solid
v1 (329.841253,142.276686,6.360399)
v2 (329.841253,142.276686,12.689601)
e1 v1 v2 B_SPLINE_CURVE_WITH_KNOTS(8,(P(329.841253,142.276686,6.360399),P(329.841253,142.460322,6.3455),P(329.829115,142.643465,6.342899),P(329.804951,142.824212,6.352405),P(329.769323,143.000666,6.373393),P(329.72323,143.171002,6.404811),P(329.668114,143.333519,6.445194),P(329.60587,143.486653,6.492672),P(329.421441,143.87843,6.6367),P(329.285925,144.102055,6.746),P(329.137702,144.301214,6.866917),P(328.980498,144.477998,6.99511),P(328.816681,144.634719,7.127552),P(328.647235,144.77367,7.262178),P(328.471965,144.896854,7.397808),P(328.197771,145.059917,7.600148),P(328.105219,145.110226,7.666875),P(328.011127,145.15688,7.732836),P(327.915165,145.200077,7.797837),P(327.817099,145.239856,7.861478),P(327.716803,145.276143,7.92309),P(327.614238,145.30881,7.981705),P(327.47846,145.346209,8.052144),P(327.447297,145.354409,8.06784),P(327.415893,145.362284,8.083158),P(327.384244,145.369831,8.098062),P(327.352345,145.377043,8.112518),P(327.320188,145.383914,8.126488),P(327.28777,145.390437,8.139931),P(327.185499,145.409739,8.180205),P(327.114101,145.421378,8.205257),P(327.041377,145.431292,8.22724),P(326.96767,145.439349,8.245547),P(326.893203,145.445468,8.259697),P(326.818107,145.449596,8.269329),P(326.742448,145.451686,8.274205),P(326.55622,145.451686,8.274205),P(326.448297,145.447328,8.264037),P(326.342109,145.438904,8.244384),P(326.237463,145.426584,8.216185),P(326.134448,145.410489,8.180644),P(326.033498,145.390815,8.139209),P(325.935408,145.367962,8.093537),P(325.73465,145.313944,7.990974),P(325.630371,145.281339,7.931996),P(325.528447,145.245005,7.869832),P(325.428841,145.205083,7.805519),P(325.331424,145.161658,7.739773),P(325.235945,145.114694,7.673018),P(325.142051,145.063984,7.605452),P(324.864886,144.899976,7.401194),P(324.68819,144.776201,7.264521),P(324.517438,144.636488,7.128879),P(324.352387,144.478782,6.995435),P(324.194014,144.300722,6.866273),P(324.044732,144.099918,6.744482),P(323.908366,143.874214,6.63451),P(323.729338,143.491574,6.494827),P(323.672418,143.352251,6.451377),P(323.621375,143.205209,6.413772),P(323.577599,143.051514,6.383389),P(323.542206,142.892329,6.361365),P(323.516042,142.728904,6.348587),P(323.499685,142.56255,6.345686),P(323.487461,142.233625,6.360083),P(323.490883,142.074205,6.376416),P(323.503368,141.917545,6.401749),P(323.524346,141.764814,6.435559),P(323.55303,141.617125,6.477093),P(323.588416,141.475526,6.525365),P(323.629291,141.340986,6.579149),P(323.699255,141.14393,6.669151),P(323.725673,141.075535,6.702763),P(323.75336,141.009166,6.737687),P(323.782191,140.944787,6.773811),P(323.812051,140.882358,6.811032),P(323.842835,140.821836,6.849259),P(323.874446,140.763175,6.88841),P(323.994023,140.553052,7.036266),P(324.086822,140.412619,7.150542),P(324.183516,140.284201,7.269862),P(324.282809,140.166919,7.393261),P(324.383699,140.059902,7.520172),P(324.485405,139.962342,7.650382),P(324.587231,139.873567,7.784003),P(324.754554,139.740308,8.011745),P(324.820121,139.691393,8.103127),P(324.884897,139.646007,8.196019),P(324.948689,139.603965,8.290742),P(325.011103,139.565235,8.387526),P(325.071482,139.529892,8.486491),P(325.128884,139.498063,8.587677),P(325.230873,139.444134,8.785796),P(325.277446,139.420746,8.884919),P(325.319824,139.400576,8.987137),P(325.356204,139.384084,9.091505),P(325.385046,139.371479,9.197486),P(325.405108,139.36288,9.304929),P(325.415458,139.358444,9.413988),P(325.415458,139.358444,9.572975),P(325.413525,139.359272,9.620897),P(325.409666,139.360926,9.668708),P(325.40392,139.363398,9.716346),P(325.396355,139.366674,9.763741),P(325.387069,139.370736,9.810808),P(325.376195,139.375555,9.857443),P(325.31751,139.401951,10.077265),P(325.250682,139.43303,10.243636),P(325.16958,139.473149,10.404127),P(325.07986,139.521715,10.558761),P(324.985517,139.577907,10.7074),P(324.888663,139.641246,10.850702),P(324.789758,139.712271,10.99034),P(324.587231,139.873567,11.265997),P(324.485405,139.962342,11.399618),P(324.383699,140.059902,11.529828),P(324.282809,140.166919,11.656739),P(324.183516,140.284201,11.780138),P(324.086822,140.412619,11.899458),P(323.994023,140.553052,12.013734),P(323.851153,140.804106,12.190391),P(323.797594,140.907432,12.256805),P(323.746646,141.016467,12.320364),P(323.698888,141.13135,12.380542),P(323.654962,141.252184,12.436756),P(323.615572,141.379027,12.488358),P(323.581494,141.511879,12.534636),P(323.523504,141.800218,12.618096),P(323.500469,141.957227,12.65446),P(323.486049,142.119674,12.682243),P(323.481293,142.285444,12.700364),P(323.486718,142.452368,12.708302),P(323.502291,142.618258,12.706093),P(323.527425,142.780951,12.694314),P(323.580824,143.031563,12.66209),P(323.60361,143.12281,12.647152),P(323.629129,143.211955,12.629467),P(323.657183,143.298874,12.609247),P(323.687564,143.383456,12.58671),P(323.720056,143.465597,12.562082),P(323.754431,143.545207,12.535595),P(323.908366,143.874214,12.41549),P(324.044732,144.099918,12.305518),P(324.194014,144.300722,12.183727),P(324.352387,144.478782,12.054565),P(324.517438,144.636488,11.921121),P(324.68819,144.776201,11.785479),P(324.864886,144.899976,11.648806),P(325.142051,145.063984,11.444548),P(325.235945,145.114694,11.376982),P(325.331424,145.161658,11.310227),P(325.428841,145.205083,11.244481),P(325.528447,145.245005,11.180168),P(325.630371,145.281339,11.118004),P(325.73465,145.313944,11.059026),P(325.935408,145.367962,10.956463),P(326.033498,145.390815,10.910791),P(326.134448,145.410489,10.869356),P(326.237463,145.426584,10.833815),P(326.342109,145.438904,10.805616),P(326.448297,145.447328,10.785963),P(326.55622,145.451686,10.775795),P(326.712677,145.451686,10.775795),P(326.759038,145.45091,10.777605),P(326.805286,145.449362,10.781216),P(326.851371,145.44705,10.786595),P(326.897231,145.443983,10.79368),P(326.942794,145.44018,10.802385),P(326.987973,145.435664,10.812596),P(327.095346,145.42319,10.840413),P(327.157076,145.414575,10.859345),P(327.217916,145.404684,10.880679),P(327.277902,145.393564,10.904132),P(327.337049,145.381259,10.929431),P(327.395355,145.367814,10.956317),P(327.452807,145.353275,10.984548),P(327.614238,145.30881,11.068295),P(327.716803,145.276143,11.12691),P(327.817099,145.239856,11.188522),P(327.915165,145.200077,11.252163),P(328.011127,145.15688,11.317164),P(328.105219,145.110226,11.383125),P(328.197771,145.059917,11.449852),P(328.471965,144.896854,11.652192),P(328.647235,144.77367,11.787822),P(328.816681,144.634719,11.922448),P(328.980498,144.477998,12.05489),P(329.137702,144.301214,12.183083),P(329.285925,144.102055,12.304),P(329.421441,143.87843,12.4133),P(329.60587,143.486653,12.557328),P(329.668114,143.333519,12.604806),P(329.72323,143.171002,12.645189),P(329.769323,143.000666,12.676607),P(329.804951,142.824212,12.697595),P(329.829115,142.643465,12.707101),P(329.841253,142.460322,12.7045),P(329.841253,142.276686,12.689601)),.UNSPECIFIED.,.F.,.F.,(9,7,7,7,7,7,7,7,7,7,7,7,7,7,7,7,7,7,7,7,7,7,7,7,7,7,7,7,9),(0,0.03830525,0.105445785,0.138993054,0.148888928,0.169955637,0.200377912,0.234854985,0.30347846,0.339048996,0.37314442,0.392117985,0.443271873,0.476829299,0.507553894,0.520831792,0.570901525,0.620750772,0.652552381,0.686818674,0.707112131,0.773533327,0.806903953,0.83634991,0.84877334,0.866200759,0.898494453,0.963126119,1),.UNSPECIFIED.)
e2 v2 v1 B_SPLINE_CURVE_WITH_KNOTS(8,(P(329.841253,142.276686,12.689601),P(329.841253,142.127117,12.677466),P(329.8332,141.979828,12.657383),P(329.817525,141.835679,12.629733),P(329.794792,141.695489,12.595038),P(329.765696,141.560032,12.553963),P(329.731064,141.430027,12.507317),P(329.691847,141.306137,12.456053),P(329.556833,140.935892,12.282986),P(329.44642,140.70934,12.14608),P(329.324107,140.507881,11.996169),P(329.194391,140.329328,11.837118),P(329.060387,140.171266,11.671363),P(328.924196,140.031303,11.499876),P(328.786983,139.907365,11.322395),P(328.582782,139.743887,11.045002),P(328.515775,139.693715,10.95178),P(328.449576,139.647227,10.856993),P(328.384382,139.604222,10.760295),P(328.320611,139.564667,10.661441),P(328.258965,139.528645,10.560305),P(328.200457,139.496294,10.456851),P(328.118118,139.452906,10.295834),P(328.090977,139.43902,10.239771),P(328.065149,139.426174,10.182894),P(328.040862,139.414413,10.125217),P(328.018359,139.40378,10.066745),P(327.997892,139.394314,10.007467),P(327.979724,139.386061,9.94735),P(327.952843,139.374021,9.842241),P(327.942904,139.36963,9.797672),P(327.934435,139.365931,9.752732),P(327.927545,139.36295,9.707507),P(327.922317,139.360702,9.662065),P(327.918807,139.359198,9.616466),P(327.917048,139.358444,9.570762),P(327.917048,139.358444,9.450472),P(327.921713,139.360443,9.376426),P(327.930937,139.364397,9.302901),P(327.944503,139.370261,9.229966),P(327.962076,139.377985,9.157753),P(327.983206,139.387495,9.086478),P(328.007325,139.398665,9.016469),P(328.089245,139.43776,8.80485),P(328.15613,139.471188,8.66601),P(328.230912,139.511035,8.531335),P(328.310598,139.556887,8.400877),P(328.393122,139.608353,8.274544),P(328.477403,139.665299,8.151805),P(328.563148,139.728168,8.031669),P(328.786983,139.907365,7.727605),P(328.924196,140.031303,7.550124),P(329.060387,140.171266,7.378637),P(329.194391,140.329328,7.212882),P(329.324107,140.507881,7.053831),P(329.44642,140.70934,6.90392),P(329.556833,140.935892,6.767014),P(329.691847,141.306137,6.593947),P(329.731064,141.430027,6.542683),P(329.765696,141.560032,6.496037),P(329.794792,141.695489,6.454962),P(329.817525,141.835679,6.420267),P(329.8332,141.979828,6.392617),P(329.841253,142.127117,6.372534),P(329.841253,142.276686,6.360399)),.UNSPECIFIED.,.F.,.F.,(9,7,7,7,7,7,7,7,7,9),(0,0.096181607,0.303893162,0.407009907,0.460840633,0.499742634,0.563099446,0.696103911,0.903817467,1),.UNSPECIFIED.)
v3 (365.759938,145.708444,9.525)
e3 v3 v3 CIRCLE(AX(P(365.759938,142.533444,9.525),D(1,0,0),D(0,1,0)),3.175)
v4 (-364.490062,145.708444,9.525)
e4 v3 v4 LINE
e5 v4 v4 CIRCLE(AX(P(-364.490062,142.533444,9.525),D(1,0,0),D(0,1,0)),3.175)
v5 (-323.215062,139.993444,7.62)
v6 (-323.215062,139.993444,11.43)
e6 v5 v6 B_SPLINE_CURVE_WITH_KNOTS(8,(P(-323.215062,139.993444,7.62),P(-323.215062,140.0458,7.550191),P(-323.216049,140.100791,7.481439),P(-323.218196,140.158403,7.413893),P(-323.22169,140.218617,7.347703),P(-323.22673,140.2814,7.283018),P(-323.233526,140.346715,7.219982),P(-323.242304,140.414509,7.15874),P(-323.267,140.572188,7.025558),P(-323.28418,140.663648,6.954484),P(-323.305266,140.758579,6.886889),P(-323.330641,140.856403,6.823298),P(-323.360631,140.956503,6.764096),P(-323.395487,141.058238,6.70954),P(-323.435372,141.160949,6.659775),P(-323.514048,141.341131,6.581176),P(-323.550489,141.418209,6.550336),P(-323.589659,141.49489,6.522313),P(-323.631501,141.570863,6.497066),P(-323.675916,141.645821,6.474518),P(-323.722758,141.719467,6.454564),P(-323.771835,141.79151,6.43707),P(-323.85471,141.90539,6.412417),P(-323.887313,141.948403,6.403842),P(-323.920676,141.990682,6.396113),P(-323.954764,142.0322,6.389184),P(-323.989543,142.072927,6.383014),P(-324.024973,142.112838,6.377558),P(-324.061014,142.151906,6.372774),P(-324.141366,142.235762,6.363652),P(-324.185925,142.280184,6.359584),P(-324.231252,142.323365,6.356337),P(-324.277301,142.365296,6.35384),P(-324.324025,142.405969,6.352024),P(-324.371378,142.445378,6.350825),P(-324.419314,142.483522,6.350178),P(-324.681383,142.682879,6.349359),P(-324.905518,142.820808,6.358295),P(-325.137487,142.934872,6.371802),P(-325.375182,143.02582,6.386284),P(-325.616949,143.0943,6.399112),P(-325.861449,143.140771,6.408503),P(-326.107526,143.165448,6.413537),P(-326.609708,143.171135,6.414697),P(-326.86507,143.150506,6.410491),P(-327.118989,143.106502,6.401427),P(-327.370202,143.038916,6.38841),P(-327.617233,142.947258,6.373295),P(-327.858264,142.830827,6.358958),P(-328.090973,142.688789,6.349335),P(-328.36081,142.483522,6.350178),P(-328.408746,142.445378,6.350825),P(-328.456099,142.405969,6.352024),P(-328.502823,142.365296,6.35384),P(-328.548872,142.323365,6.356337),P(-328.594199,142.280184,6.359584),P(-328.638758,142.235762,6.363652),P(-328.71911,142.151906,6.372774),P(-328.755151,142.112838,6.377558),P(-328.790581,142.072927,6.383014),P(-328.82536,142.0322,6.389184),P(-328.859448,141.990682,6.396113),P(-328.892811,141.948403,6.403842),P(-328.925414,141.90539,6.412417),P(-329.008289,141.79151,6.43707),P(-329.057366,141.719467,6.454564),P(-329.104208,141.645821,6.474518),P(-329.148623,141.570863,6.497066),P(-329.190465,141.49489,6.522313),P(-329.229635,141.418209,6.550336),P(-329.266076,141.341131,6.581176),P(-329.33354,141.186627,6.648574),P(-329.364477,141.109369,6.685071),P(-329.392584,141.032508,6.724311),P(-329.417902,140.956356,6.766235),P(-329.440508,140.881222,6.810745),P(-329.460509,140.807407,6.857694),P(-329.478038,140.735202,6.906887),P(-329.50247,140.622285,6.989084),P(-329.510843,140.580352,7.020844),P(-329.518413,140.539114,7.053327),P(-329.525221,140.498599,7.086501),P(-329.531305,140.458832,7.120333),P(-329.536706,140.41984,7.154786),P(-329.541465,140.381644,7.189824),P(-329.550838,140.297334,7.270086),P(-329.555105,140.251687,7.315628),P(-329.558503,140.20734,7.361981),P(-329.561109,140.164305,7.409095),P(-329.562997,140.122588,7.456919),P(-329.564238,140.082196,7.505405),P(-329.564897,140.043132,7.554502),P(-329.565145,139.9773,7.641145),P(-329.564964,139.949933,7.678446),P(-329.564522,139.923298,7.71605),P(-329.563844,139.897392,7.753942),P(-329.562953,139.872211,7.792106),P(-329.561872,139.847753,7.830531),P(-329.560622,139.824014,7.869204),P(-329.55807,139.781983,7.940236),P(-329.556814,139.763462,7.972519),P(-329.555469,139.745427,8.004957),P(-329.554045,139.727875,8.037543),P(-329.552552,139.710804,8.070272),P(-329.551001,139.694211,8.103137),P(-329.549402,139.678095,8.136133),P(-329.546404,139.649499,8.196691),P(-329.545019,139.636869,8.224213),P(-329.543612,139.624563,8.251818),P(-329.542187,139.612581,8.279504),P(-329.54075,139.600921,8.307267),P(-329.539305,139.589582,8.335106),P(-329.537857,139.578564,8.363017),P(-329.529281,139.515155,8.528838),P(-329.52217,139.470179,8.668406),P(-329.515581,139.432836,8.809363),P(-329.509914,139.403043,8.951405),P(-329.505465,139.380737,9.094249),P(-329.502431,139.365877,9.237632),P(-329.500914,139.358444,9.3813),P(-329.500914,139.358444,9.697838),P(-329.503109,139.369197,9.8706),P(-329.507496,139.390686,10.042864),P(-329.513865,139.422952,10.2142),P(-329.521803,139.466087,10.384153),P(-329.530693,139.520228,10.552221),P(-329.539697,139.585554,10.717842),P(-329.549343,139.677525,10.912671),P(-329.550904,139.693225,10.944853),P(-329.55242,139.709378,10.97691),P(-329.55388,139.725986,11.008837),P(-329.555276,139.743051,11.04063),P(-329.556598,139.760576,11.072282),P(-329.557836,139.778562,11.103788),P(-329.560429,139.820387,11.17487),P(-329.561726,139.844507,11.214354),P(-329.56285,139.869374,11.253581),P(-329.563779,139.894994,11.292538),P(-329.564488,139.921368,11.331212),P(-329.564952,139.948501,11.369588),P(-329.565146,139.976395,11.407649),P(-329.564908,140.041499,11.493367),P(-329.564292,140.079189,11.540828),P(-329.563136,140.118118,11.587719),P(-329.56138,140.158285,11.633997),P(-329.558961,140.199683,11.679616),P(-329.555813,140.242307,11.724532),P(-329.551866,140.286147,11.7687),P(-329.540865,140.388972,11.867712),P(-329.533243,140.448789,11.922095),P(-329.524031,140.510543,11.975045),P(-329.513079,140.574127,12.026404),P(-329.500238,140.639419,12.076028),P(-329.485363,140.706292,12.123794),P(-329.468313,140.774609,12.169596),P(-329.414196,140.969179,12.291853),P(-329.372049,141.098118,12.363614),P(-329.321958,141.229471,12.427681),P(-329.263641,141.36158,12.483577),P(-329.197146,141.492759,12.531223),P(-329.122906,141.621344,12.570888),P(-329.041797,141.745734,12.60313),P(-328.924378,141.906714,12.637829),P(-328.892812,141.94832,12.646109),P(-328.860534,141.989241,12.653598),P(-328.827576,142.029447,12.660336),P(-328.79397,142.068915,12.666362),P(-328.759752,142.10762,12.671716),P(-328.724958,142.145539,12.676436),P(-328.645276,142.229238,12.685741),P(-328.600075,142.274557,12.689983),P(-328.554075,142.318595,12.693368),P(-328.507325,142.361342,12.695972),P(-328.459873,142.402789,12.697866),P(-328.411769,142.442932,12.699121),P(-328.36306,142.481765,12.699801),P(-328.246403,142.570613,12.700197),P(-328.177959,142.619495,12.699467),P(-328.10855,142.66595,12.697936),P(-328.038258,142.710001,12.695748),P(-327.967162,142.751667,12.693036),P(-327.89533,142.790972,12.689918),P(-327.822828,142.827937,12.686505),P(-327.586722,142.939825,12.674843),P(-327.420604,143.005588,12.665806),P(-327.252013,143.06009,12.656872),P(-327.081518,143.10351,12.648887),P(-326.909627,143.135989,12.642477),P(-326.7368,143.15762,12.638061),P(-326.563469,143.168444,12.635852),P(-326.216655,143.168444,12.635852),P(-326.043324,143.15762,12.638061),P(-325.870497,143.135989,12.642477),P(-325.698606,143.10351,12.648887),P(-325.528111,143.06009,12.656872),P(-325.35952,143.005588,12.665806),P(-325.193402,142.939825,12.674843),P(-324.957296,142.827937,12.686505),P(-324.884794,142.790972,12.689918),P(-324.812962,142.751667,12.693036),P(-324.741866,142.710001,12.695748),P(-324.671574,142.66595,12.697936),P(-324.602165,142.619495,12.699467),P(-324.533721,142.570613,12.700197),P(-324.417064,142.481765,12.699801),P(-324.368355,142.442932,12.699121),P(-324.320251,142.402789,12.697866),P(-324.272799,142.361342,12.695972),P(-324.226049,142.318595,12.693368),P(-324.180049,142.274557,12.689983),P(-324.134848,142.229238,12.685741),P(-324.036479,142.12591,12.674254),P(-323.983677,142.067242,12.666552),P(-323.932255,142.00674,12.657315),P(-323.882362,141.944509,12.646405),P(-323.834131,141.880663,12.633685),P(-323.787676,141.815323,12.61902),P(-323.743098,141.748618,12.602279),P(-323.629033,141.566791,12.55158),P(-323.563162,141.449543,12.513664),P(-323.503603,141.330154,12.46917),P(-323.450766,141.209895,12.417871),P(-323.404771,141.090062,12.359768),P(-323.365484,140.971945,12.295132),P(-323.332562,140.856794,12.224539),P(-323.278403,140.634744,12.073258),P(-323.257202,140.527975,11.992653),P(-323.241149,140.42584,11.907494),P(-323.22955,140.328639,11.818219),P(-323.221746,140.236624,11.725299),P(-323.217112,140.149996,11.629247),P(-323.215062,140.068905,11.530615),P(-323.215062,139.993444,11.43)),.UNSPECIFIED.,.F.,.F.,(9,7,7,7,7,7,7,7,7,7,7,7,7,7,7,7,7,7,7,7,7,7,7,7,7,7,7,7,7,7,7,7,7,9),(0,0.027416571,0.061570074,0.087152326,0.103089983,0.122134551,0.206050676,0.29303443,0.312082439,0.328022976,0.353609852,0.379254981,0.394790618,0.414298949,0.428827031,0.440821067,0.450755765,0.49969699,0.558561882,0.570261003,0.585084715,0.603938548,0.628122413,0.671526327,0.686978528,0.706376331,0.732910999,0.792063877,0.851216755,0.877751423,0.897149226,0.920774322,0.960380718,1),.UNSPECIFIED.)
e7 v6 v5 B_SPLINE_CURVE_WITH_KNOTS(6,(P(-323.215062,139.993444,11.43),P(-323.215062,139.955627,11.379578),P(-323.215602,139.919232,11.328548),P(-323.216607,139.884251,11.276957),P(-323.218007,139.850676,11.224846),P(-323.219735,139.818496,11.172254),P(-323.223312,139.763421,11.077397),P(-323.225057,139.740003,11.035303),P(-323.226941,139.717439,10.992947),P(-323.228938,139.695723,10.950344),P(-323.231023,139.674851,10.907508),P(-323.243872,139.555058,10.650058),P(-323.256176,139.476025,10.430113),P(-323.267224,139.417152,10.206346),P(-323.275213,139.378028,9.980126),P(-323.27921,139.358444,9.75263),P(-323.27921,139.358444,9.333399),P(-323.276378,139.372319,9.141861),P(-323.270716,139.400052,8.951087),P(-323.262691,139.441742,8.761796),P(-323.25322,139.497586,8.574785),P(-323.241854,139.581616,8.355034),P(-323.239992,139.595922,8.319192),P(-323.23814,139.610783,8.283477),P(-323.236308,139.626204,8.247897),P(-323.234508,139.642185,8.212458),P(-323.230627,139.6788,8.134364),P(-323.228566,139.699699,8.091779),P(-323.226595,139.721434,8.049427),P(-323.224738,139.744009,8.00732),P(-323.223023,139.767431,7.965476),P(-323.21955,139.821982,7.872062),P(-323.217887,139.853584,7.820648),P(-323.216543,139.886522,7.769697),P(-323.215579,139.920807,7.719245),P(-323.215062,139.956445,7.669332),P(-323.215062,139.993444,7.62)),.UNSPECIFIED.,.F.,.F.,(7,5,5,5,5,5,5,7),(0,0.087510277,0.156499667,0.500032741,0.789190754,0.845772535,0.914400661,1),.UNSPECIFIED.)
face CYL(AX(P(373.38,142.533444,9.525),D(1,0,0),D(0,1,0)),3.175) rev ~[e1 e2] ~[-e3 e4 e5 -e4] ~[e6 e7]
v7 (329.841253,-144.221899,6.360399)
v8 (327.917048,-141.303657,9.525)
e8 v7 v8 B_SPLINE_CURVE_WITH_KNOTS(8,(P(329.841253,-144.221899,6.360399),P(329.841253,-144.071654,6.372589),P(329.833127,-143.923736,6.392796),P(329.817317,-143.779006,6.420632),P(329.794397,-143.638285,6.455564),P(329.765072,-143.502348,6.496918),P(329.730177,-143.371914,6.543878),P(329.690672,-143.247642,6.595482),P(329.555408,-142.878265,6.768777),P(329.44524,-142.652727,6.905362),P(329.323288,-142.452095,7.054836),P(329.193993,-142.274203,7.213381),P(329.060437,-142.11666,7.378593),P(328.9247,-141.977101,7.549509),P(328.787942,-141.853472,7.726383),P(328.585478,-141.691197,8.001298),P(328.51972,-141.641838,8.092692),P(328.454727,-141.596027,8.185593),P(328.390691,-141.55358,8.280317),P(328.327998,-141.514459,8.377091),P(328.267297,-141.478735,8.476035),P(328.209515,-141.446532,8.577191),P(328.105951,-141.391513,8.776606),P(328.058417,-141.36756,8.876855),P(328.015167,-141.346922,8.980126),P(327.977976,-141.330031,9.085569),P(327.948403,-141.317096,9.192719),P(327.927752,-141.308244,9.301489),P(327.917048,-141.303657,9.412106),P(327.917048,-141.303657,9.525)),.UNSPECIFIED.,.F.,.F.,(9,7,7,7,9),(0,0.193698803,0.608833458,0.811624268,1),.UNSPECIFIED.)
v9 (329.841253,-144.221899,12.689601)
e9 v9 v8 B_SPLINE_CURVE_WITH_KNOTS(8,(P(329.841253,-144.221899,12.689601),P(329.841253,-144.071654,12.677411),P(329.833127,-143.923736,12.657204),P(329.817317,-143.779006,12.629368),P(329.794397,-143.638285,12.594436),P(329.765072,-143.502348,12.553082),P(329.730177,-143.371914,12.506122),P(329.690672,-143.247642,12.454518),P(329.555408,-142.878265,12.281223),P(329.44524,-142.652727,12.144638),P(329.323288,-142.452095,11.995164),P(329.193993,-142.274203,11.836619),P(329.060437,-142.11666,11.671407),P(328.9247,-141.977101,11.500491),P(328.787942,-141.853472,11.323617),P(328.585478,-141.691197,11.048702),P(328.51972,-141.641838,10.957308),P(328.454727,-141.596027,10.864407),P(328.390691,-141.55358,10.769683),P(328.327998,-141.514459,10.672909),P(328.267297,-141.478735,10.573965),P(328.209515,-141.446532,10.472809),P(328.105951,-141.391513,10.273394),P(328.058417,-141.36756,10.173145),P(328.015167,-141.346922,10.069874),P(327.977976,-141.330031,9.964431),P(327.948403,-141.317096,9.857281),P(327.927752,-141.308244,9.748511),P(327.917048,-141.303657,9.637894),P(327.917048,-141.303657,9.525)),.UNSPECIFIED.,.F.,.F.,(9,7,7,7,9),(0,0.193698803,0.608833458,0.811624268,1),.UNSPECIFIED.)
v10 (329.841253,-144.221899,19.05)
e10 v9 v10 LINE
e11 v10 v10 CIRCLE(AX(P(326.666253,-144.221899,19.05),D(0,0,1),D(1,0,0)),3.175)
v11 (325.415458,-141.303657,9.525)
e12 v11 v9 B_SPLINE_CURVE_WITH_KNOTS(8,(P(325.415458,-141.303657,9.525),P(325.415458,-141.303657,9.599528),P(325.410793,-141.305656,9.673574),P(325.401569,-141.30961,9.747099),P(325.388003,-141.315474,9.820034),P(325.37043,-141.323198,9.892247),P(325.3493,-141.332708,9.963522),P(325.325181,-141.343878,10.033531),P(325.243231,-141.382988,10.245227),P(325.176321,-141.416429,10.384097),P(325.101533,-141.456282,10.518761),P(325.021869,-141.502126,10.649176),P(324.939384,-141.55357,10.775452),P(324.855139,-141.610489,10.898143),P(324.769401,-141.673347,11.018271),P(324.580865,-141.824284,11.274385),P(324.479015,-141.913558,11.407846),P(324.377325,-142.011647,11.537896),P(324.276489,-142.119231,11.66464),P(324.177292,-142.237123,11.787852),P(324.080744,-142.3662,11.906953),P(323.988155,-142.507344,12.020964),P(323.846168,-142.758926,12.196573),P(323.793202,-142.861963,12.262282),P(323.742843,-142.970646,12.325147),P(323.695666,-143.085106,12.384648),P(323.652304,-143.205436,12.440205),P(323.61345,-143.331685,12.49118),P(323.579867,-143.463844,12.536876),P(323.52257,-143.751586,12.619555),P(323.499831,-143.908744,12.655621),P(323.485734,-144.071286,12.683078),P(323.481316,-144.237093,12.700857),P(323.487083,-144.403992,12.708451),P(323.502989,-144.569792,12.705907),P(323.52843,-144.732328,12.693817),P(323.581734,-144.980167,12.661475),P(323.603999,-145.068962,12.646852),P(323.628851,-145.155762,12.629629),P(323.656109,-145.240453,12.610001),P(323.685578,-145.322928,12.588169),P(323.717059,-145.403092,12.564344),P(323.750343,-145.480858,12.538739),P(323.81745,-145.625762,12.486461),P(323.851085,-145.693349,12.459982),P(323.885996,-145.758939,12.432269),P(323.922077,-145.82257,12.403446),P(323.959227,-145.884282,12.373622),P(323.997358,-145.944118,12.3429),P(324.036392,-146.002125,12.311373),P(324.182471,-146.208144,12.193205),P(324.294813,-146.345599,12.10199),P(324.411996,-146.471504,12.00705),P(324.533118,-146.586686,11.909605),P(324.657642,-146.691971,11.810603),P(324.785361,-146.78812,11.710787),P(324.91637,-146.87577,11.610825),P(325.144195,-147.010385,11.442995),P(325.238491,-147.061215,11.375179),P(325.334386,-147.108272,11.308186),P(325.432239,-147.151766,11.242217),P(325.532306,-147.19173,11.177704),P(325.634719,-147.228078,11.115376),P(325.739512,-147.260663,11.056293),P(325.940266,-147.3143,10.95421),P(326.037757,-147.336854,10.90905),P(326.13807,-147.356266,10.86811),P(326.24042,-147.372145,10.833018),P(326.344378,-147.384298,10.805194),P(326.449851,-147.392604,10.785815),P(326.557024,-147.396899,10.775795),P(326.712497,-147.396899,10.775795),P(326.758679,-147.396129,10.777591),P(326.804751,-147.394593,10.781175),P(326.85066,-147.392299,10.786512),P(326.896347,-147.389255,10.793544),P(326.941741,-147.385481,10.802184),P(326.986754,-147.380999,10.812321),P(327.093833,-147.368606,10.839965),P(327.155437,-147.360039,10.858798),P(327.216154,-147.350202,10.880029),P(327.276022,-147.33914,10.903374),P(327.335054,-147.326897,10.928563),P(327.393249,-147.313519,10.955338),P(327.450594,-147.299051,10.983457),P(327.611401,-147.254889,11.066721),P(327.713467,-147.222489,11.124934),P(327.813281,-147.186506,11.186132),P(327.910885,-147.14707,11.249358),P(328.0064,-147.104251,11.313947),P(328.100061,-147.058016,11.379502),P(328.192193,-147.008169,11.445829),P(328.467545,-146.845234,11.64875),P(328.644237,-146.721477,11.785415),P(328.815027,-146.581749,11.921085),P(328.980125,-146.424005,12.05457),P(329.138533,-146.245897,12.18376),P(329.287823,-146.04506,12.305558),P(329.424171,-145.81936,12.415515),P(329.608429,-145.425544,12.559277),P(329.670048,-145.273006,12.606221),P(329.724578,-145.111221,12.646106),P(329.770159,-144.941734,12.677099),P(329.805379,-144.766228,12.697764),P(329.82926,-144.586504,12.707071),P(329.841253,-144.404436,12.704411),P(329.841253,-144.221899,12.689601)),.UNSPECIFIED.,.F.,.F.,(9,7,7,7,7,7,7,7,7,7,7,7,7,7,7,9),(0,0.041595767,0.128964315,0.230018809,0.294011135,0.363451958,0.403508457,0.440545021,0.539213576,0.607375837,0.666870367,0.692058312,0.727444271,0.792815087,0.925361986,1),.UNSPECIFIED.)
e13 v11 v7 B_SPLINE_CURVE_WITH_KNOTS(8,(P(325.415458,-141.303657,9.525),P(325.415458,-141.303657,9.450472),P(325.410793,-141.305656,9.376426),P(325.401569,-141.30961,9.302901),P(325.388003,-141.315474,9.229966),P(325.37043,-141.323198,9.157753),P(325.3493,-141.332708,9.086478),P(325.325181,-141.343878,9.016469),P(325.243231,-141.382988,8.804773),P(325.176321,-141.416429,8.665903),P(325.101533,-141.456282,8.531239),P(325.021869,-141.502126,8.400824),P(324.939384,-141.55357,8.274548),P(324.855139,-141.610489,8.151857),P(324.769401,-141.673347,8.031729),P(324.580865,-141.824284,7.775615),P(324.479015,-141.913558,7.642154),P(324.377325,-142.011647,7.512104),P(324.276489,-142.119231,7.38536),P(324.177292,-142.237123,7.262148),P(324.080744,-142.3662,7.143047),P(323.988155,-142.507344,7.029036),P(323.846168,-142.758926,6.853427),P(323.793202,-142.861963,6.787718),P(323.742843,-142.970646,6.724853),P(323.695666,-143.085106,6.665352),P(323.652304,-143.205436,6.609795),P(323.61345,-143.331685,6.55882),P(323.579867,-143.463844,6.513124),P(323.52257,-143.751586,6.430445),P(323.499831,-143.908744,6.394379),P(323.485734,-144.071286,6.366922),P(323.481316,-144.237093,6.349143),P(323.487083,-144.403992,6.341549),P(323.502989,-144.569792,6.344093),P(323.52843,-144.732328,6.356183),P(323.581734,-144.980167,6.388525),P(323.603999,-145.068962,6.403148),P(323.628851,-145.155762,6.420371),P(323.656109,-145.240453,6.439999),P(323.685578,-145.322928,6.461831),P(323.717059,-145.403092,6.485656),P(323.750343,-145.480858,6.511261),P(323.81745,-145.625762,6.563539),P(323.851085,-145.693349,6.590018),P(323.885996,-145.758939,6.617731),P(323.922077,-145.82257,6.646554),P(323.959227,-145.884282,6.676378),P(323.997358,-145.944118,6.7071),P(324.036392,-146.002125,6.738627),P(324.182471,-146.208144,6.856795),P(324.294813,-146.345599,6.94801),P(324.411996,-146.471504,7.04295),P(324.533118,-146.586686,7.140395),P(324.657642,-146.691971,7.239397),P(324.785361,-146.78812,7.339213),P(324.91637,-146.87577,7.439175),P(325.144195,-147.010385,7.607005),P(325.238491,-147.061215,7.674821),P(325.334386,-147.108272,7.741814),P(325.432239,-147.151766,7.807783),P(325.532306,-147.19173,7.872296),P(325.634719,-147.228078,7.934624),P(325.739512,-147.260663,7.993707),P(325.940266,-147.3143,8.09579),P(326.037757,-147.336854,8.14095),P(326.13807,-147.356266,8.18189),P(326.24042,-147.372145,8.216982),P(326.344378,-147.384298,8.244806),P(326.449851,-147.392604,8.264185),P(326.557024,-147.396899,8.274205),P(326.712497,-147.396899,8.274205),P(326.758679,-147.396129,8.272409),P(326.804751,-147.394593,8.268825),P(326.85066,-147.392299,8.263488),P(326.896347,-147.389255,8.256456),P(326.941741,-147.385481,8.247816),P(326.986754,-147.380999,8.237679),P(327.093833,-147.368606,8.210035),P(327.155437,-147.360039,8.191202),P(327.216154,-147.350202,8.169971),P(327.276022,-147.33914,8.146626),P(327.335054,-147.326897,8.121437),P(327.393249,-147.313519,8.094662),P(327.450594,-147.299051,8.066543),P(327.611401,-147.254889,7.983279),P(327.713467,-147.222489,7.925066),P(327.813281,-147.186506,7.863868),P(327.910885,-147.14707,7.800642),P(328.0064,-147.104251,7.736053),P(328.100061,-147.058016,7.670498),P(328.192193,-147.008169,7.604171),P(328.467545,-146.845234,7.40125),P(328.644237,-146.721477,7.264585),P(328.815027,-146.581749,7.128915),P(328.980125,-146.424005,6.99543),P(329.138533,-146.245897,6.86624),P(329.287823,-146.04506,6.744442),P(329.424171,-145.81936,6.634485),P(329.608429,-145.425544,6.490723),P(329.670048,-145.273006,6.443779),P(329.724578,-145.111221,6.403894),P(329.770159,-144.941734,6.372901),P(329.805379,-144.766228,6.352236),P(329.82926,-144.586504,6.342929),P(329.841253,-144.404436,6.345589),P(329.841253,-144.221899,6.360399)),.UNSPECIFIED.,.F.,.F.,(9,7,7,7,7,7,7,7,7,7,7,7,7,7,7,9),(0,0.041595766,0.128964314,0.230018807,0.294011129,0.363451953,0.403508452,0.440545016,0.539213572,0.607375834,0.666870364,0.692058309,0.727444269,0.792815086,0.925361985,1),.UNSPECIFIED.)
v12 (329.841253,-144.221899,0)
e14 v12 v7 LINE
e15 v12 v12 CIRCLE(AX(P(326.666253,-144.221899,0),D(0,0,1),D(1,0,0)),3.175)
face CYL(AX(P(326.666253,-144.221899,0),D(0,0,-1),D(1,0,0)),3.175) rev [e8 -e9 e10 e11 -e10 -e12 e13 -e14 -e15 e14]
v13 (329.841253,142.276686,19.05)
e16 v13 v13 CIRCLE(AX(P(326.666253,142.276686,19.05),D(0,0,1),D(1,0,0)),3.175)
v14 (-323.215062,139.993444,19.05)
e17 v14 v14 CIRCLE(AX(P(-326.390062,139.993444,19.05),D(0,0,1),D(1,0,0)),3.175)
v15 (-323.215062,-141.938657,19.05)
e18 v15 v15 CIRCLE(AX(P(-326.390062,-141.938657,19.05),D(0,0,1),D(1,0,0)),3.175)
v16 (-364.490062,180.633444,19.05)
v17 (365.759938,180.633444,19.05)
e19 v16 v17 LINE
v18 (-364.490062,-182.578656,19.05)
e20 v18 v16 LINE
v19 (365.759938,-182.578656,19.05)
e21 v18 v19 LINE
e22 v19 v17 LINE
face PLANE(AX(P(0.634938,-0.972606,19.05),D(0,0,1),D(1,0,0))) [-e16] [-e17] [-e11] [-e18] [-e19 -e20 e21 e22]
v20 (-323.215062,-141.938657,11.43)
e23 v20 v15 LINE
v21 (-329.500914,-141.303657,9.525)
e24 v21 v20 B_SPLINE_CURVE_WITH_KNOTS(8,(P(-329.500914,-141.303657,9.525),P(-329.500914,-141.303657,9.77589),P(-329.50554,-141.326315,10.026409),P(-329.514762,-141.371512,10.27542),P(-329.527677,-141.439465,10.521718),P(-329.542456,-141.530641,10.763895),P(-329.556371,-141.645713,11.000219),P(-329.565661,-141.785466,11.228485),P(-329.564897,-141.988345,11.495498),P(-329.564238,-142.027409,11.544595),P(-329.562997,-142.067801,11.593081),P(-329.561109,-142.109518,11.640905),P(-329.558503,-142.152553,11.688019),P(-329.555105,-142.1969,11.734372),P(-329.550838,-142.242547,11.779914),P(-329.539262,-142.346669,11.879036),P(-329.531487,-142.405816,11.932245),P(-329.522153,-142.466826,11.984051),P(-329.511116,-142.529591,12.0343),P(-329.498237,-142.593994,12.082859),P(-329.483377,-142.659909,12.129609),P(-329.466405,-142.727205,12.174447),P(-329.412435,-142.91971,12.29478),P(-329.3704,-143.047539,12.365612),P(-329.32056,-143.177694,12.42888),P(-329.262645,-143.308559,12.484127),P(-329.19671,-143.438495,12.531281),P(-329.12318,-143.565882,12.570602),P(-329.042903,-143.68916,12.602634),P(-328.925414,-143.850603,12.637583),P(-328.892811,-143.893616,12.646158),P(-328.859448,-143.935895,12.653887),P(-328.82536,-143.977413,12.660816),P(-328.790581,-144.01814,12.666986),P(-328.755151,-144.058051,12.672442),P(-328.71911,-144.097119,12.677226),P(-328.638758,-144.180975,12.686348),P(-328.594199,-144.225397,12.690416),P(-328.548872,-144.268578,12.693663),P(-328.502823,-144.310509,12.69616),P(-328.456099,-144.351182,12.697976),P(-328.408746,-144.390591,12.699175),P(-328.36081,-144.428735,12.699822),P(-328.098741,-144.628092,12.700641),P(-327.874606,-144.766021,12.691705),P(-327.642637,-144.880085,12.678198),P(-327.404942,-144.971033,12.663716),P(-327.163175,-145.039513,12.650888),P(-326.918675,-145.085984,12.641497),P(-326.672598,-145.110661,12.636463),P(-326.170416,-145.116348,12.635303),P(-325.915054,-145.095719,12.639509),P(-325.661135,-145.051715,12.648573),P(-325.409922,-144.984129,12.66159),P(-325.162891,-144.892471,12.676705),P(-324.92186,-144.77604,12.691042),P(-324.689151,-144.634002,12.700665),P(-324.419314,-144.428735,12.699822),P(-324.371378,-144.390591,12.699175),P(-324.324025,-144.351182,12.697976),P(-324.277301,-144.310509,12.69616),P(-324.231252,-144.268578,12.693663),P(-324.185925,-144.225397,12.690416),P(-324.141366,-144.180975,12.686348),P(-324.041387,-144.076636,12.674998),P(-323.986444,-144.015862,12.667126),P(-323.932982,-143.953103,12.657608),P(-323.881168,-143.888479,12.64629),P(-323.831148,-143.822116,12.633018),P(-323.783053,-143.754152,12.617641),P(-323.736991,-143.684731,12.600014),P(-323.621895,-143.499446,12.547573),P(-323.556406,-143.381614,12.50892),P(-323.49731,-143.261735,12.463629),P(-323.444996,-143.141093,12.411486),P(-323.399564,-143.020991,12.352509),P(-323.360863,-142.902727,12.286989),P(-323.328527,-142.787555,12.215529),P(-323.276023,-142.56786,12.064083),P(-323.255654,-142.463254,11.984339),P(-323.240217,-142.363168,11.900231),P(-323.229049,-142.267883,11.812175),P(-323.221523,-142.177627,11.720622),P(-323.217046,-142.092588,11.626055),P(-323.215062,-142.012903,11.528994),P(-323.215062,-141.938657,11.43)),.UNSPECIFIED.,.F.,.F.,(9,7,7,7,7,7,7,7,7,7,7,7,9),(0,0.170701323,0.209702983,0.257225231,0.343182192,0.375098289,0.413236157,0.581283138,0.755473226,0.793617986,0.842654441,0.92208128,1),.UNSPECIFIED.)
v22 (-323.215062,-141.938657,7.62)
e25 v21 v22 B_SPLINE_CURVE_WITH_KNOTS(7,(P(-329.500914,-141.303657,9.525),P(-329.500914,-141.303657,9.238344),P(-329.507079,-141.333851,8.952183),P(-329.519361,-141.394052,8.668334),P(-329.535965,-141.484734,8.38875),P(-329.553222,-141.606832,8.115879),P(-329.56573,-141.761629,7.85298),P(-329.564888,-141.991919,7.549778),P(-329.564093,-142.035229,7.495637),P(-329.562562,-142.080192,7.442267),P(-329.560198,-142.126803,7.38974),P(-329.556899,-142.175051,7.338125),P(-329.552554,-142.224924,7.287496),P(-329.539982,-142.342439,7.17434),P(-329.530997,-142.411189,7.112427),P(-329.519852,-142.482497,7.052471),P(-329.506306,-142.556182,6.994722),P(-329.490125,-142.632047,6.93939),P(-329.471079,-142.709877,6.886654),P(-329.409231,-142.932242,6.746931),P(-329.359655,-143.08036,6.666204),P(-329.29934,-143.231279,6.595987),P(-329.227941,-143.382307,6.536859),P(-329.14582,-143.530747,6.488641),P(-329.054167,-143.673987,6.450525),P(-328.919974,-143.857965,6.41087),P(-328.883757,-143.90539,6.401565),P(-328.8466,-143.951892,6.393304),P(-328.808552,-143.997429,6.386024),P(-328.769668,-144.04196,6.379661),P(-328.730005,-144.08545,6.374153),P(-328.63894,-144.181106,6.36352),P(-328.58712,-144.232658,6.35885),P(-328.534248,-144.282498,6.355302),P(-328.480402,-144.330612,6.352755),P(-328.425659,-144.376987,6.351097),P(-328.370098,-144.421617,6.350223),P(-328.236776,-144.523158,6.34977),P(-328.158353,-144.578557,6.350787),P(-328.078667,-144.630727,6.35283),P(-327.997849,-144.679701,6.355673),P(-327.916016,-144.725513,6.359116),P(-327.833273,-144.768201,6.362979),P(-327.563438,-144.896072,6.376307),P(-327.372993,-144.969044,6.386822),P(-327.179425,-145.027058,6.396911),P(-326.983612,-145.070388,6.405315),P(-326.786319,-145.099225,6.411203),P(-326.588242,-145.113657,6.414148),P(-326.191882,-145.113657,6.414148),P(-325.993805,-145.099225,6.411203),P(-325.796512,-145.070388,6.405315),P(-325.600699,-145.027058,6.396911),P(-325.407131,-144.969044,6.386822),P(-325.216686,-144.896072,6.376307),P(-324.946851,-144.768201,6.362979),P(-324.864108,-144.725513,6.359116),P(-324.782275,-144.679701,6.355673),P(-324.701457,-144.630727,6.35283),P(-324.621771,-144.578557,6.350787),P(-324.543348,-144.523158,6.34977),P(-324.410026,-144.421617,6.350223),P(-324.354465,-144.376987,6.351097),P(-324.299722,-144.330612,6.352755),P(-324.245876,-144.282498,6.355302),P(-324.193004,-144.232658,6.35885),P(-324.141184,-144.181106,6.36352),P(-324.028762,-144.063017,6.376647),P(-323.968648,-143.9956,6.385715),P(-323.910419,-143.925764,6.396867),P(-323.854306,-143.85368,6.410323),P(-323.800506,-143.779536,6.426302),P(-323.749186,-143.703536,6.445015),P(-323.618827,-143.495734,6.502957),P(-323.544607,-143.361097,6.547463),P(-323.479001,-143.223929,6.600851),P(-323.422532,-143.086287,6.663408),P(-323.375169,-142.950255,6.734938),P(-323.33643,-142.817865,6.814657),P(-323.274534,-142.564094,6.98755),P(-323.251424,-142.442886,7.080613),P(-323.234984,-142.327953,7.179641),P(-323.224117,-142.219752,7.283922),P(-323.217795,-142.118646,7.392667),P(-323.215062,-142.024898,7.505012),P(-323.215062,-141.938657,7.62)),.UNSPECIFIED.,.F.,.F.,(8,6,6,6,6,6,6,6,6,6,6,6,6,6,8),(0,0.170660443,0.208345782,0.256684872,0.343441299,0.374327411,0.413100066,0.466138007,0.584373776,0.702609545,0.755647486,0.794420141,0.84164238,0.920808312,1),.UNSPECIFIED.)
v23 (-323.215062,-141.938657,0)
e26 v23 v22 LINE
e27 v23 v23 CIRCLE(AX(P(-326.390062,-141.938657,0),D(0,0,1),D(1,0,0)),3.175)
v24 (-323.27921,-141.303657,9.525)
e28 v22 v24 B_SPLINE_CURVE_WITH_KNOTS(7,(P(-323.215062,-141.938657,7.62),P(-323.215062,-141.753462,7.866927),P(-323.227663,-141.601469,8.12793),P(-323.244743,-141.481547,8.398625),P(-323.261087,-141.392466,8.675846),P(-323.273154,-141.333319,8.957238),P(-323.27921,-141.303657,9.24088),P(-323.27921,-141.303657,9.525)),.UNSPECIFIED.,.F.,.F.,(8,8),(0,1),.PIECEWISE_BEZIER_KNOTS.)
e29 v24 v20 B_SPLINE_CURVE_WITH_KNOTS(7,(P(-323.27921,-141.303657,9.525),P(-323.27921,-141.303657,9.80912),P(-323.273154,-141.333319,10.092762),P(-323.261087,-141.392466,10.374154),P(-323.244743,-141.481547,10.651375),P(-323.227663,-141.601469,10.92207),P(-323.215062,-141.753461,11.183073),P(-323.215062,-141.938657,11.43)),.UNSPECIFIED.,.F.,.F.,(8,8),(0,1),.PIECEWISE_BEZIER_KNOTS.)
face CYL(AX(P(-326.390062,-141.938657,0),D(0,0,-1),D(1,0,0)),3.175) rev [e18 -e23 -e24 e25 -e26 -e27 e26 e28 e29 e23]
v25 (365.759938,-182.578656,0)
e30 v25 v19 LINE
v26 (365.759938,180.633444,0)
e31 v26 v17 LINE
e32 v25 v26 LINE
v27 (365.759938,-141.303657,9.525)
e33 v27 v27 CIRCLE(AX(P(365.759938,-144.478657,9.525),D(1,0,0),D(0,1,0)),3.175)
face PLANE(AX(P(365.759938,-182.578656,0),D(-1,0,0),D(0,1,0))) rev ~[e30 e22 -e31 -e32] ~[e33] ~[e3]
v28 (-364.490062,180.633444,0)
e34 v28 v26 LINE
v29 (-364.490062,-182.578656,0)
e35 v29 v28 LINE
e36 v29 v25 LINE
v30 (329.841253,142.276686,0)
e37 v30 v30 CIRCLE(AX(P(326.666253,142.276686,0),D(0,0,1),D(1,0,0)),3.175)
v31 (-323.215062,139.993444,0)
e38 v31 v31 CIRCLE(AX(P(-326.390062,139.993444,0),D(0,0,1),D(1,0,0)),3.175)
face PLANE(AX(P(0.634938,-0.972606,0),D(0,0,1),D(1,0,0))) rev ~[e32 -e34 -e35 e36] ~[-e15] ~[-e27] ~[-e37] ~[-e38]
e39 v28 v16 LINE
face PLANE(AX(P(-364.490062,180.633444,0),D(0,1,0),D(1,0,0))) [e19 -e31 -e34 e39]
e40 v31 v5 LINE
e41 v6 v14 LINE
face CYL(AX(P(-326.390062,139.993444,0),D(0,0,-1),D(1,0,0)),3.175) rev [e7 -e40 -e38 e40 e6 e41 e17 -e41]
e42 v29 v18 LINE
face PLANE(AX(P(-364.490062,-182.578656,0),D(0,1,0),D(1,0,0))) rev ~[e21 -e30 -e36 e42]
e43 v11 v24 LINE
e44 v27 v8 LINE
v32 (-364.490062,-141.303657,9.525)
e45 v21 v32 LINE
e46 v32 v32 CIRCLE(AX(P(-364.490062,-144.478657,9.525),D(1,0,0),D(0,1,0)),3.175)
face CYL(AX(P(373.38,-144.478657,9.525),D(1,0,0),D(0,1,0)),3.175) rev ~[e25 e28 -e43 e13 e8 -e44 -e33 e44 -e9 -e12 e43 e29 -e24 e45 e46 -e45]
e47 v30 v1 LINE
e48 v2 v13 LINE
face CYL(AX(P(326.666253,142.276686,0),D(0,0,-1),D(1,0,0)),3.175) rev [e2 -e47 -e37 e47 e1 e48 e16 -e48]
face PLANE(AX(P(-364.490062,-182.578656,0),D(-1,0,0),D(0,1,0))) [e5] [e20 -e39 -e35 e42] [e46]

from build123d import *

# Parameters (mm, degrees)
F0_W     = 730.25
F0_H     = 363.212101
F0_R     = 3.175
F1_DEPTH = 19.05
F3_R     = 3.175
F4_DEPTH = 805.434


with BuildPart() as f1:
    # F0 (on Top) → F1 (new body)
    with BuildSketch(Plane.XY):
        with Locations((0.634938, -0.972606)):
            Rectangle(F0_W, F0_H)
        with Locations((-326.390062, -141.938657)):
            Circle(F0_R, mode=Mode.SUBTRACT)
        with Locations((326.666253, -144.221899)):
            Circle(F0_R, mode=Mode.SUBTRACT)
        with Locations((-326.390062, 139.993444)):
            Circle(F0_R, mode=Mode.SUBTRACT)
        with Locations((326.666253, 142.276686)):
            Circle(F0_R, mode=Mode.SUBTRACT)
    extrude(amount=F1_DEPTH)

    # F3 (on offset) → F4 (cut)
    with BuildSketch(Plane.YZ.offset(373.38)):
        with Locations((-144.478657, 9.525)):
            Circle(F3_R)
        with Locations((142.533444, 9.525)):
            Circle(F3_R)
    extrude(amount=-F4_DEPTH, mode=Mode.SUBTRACT)


solid = f1.part
